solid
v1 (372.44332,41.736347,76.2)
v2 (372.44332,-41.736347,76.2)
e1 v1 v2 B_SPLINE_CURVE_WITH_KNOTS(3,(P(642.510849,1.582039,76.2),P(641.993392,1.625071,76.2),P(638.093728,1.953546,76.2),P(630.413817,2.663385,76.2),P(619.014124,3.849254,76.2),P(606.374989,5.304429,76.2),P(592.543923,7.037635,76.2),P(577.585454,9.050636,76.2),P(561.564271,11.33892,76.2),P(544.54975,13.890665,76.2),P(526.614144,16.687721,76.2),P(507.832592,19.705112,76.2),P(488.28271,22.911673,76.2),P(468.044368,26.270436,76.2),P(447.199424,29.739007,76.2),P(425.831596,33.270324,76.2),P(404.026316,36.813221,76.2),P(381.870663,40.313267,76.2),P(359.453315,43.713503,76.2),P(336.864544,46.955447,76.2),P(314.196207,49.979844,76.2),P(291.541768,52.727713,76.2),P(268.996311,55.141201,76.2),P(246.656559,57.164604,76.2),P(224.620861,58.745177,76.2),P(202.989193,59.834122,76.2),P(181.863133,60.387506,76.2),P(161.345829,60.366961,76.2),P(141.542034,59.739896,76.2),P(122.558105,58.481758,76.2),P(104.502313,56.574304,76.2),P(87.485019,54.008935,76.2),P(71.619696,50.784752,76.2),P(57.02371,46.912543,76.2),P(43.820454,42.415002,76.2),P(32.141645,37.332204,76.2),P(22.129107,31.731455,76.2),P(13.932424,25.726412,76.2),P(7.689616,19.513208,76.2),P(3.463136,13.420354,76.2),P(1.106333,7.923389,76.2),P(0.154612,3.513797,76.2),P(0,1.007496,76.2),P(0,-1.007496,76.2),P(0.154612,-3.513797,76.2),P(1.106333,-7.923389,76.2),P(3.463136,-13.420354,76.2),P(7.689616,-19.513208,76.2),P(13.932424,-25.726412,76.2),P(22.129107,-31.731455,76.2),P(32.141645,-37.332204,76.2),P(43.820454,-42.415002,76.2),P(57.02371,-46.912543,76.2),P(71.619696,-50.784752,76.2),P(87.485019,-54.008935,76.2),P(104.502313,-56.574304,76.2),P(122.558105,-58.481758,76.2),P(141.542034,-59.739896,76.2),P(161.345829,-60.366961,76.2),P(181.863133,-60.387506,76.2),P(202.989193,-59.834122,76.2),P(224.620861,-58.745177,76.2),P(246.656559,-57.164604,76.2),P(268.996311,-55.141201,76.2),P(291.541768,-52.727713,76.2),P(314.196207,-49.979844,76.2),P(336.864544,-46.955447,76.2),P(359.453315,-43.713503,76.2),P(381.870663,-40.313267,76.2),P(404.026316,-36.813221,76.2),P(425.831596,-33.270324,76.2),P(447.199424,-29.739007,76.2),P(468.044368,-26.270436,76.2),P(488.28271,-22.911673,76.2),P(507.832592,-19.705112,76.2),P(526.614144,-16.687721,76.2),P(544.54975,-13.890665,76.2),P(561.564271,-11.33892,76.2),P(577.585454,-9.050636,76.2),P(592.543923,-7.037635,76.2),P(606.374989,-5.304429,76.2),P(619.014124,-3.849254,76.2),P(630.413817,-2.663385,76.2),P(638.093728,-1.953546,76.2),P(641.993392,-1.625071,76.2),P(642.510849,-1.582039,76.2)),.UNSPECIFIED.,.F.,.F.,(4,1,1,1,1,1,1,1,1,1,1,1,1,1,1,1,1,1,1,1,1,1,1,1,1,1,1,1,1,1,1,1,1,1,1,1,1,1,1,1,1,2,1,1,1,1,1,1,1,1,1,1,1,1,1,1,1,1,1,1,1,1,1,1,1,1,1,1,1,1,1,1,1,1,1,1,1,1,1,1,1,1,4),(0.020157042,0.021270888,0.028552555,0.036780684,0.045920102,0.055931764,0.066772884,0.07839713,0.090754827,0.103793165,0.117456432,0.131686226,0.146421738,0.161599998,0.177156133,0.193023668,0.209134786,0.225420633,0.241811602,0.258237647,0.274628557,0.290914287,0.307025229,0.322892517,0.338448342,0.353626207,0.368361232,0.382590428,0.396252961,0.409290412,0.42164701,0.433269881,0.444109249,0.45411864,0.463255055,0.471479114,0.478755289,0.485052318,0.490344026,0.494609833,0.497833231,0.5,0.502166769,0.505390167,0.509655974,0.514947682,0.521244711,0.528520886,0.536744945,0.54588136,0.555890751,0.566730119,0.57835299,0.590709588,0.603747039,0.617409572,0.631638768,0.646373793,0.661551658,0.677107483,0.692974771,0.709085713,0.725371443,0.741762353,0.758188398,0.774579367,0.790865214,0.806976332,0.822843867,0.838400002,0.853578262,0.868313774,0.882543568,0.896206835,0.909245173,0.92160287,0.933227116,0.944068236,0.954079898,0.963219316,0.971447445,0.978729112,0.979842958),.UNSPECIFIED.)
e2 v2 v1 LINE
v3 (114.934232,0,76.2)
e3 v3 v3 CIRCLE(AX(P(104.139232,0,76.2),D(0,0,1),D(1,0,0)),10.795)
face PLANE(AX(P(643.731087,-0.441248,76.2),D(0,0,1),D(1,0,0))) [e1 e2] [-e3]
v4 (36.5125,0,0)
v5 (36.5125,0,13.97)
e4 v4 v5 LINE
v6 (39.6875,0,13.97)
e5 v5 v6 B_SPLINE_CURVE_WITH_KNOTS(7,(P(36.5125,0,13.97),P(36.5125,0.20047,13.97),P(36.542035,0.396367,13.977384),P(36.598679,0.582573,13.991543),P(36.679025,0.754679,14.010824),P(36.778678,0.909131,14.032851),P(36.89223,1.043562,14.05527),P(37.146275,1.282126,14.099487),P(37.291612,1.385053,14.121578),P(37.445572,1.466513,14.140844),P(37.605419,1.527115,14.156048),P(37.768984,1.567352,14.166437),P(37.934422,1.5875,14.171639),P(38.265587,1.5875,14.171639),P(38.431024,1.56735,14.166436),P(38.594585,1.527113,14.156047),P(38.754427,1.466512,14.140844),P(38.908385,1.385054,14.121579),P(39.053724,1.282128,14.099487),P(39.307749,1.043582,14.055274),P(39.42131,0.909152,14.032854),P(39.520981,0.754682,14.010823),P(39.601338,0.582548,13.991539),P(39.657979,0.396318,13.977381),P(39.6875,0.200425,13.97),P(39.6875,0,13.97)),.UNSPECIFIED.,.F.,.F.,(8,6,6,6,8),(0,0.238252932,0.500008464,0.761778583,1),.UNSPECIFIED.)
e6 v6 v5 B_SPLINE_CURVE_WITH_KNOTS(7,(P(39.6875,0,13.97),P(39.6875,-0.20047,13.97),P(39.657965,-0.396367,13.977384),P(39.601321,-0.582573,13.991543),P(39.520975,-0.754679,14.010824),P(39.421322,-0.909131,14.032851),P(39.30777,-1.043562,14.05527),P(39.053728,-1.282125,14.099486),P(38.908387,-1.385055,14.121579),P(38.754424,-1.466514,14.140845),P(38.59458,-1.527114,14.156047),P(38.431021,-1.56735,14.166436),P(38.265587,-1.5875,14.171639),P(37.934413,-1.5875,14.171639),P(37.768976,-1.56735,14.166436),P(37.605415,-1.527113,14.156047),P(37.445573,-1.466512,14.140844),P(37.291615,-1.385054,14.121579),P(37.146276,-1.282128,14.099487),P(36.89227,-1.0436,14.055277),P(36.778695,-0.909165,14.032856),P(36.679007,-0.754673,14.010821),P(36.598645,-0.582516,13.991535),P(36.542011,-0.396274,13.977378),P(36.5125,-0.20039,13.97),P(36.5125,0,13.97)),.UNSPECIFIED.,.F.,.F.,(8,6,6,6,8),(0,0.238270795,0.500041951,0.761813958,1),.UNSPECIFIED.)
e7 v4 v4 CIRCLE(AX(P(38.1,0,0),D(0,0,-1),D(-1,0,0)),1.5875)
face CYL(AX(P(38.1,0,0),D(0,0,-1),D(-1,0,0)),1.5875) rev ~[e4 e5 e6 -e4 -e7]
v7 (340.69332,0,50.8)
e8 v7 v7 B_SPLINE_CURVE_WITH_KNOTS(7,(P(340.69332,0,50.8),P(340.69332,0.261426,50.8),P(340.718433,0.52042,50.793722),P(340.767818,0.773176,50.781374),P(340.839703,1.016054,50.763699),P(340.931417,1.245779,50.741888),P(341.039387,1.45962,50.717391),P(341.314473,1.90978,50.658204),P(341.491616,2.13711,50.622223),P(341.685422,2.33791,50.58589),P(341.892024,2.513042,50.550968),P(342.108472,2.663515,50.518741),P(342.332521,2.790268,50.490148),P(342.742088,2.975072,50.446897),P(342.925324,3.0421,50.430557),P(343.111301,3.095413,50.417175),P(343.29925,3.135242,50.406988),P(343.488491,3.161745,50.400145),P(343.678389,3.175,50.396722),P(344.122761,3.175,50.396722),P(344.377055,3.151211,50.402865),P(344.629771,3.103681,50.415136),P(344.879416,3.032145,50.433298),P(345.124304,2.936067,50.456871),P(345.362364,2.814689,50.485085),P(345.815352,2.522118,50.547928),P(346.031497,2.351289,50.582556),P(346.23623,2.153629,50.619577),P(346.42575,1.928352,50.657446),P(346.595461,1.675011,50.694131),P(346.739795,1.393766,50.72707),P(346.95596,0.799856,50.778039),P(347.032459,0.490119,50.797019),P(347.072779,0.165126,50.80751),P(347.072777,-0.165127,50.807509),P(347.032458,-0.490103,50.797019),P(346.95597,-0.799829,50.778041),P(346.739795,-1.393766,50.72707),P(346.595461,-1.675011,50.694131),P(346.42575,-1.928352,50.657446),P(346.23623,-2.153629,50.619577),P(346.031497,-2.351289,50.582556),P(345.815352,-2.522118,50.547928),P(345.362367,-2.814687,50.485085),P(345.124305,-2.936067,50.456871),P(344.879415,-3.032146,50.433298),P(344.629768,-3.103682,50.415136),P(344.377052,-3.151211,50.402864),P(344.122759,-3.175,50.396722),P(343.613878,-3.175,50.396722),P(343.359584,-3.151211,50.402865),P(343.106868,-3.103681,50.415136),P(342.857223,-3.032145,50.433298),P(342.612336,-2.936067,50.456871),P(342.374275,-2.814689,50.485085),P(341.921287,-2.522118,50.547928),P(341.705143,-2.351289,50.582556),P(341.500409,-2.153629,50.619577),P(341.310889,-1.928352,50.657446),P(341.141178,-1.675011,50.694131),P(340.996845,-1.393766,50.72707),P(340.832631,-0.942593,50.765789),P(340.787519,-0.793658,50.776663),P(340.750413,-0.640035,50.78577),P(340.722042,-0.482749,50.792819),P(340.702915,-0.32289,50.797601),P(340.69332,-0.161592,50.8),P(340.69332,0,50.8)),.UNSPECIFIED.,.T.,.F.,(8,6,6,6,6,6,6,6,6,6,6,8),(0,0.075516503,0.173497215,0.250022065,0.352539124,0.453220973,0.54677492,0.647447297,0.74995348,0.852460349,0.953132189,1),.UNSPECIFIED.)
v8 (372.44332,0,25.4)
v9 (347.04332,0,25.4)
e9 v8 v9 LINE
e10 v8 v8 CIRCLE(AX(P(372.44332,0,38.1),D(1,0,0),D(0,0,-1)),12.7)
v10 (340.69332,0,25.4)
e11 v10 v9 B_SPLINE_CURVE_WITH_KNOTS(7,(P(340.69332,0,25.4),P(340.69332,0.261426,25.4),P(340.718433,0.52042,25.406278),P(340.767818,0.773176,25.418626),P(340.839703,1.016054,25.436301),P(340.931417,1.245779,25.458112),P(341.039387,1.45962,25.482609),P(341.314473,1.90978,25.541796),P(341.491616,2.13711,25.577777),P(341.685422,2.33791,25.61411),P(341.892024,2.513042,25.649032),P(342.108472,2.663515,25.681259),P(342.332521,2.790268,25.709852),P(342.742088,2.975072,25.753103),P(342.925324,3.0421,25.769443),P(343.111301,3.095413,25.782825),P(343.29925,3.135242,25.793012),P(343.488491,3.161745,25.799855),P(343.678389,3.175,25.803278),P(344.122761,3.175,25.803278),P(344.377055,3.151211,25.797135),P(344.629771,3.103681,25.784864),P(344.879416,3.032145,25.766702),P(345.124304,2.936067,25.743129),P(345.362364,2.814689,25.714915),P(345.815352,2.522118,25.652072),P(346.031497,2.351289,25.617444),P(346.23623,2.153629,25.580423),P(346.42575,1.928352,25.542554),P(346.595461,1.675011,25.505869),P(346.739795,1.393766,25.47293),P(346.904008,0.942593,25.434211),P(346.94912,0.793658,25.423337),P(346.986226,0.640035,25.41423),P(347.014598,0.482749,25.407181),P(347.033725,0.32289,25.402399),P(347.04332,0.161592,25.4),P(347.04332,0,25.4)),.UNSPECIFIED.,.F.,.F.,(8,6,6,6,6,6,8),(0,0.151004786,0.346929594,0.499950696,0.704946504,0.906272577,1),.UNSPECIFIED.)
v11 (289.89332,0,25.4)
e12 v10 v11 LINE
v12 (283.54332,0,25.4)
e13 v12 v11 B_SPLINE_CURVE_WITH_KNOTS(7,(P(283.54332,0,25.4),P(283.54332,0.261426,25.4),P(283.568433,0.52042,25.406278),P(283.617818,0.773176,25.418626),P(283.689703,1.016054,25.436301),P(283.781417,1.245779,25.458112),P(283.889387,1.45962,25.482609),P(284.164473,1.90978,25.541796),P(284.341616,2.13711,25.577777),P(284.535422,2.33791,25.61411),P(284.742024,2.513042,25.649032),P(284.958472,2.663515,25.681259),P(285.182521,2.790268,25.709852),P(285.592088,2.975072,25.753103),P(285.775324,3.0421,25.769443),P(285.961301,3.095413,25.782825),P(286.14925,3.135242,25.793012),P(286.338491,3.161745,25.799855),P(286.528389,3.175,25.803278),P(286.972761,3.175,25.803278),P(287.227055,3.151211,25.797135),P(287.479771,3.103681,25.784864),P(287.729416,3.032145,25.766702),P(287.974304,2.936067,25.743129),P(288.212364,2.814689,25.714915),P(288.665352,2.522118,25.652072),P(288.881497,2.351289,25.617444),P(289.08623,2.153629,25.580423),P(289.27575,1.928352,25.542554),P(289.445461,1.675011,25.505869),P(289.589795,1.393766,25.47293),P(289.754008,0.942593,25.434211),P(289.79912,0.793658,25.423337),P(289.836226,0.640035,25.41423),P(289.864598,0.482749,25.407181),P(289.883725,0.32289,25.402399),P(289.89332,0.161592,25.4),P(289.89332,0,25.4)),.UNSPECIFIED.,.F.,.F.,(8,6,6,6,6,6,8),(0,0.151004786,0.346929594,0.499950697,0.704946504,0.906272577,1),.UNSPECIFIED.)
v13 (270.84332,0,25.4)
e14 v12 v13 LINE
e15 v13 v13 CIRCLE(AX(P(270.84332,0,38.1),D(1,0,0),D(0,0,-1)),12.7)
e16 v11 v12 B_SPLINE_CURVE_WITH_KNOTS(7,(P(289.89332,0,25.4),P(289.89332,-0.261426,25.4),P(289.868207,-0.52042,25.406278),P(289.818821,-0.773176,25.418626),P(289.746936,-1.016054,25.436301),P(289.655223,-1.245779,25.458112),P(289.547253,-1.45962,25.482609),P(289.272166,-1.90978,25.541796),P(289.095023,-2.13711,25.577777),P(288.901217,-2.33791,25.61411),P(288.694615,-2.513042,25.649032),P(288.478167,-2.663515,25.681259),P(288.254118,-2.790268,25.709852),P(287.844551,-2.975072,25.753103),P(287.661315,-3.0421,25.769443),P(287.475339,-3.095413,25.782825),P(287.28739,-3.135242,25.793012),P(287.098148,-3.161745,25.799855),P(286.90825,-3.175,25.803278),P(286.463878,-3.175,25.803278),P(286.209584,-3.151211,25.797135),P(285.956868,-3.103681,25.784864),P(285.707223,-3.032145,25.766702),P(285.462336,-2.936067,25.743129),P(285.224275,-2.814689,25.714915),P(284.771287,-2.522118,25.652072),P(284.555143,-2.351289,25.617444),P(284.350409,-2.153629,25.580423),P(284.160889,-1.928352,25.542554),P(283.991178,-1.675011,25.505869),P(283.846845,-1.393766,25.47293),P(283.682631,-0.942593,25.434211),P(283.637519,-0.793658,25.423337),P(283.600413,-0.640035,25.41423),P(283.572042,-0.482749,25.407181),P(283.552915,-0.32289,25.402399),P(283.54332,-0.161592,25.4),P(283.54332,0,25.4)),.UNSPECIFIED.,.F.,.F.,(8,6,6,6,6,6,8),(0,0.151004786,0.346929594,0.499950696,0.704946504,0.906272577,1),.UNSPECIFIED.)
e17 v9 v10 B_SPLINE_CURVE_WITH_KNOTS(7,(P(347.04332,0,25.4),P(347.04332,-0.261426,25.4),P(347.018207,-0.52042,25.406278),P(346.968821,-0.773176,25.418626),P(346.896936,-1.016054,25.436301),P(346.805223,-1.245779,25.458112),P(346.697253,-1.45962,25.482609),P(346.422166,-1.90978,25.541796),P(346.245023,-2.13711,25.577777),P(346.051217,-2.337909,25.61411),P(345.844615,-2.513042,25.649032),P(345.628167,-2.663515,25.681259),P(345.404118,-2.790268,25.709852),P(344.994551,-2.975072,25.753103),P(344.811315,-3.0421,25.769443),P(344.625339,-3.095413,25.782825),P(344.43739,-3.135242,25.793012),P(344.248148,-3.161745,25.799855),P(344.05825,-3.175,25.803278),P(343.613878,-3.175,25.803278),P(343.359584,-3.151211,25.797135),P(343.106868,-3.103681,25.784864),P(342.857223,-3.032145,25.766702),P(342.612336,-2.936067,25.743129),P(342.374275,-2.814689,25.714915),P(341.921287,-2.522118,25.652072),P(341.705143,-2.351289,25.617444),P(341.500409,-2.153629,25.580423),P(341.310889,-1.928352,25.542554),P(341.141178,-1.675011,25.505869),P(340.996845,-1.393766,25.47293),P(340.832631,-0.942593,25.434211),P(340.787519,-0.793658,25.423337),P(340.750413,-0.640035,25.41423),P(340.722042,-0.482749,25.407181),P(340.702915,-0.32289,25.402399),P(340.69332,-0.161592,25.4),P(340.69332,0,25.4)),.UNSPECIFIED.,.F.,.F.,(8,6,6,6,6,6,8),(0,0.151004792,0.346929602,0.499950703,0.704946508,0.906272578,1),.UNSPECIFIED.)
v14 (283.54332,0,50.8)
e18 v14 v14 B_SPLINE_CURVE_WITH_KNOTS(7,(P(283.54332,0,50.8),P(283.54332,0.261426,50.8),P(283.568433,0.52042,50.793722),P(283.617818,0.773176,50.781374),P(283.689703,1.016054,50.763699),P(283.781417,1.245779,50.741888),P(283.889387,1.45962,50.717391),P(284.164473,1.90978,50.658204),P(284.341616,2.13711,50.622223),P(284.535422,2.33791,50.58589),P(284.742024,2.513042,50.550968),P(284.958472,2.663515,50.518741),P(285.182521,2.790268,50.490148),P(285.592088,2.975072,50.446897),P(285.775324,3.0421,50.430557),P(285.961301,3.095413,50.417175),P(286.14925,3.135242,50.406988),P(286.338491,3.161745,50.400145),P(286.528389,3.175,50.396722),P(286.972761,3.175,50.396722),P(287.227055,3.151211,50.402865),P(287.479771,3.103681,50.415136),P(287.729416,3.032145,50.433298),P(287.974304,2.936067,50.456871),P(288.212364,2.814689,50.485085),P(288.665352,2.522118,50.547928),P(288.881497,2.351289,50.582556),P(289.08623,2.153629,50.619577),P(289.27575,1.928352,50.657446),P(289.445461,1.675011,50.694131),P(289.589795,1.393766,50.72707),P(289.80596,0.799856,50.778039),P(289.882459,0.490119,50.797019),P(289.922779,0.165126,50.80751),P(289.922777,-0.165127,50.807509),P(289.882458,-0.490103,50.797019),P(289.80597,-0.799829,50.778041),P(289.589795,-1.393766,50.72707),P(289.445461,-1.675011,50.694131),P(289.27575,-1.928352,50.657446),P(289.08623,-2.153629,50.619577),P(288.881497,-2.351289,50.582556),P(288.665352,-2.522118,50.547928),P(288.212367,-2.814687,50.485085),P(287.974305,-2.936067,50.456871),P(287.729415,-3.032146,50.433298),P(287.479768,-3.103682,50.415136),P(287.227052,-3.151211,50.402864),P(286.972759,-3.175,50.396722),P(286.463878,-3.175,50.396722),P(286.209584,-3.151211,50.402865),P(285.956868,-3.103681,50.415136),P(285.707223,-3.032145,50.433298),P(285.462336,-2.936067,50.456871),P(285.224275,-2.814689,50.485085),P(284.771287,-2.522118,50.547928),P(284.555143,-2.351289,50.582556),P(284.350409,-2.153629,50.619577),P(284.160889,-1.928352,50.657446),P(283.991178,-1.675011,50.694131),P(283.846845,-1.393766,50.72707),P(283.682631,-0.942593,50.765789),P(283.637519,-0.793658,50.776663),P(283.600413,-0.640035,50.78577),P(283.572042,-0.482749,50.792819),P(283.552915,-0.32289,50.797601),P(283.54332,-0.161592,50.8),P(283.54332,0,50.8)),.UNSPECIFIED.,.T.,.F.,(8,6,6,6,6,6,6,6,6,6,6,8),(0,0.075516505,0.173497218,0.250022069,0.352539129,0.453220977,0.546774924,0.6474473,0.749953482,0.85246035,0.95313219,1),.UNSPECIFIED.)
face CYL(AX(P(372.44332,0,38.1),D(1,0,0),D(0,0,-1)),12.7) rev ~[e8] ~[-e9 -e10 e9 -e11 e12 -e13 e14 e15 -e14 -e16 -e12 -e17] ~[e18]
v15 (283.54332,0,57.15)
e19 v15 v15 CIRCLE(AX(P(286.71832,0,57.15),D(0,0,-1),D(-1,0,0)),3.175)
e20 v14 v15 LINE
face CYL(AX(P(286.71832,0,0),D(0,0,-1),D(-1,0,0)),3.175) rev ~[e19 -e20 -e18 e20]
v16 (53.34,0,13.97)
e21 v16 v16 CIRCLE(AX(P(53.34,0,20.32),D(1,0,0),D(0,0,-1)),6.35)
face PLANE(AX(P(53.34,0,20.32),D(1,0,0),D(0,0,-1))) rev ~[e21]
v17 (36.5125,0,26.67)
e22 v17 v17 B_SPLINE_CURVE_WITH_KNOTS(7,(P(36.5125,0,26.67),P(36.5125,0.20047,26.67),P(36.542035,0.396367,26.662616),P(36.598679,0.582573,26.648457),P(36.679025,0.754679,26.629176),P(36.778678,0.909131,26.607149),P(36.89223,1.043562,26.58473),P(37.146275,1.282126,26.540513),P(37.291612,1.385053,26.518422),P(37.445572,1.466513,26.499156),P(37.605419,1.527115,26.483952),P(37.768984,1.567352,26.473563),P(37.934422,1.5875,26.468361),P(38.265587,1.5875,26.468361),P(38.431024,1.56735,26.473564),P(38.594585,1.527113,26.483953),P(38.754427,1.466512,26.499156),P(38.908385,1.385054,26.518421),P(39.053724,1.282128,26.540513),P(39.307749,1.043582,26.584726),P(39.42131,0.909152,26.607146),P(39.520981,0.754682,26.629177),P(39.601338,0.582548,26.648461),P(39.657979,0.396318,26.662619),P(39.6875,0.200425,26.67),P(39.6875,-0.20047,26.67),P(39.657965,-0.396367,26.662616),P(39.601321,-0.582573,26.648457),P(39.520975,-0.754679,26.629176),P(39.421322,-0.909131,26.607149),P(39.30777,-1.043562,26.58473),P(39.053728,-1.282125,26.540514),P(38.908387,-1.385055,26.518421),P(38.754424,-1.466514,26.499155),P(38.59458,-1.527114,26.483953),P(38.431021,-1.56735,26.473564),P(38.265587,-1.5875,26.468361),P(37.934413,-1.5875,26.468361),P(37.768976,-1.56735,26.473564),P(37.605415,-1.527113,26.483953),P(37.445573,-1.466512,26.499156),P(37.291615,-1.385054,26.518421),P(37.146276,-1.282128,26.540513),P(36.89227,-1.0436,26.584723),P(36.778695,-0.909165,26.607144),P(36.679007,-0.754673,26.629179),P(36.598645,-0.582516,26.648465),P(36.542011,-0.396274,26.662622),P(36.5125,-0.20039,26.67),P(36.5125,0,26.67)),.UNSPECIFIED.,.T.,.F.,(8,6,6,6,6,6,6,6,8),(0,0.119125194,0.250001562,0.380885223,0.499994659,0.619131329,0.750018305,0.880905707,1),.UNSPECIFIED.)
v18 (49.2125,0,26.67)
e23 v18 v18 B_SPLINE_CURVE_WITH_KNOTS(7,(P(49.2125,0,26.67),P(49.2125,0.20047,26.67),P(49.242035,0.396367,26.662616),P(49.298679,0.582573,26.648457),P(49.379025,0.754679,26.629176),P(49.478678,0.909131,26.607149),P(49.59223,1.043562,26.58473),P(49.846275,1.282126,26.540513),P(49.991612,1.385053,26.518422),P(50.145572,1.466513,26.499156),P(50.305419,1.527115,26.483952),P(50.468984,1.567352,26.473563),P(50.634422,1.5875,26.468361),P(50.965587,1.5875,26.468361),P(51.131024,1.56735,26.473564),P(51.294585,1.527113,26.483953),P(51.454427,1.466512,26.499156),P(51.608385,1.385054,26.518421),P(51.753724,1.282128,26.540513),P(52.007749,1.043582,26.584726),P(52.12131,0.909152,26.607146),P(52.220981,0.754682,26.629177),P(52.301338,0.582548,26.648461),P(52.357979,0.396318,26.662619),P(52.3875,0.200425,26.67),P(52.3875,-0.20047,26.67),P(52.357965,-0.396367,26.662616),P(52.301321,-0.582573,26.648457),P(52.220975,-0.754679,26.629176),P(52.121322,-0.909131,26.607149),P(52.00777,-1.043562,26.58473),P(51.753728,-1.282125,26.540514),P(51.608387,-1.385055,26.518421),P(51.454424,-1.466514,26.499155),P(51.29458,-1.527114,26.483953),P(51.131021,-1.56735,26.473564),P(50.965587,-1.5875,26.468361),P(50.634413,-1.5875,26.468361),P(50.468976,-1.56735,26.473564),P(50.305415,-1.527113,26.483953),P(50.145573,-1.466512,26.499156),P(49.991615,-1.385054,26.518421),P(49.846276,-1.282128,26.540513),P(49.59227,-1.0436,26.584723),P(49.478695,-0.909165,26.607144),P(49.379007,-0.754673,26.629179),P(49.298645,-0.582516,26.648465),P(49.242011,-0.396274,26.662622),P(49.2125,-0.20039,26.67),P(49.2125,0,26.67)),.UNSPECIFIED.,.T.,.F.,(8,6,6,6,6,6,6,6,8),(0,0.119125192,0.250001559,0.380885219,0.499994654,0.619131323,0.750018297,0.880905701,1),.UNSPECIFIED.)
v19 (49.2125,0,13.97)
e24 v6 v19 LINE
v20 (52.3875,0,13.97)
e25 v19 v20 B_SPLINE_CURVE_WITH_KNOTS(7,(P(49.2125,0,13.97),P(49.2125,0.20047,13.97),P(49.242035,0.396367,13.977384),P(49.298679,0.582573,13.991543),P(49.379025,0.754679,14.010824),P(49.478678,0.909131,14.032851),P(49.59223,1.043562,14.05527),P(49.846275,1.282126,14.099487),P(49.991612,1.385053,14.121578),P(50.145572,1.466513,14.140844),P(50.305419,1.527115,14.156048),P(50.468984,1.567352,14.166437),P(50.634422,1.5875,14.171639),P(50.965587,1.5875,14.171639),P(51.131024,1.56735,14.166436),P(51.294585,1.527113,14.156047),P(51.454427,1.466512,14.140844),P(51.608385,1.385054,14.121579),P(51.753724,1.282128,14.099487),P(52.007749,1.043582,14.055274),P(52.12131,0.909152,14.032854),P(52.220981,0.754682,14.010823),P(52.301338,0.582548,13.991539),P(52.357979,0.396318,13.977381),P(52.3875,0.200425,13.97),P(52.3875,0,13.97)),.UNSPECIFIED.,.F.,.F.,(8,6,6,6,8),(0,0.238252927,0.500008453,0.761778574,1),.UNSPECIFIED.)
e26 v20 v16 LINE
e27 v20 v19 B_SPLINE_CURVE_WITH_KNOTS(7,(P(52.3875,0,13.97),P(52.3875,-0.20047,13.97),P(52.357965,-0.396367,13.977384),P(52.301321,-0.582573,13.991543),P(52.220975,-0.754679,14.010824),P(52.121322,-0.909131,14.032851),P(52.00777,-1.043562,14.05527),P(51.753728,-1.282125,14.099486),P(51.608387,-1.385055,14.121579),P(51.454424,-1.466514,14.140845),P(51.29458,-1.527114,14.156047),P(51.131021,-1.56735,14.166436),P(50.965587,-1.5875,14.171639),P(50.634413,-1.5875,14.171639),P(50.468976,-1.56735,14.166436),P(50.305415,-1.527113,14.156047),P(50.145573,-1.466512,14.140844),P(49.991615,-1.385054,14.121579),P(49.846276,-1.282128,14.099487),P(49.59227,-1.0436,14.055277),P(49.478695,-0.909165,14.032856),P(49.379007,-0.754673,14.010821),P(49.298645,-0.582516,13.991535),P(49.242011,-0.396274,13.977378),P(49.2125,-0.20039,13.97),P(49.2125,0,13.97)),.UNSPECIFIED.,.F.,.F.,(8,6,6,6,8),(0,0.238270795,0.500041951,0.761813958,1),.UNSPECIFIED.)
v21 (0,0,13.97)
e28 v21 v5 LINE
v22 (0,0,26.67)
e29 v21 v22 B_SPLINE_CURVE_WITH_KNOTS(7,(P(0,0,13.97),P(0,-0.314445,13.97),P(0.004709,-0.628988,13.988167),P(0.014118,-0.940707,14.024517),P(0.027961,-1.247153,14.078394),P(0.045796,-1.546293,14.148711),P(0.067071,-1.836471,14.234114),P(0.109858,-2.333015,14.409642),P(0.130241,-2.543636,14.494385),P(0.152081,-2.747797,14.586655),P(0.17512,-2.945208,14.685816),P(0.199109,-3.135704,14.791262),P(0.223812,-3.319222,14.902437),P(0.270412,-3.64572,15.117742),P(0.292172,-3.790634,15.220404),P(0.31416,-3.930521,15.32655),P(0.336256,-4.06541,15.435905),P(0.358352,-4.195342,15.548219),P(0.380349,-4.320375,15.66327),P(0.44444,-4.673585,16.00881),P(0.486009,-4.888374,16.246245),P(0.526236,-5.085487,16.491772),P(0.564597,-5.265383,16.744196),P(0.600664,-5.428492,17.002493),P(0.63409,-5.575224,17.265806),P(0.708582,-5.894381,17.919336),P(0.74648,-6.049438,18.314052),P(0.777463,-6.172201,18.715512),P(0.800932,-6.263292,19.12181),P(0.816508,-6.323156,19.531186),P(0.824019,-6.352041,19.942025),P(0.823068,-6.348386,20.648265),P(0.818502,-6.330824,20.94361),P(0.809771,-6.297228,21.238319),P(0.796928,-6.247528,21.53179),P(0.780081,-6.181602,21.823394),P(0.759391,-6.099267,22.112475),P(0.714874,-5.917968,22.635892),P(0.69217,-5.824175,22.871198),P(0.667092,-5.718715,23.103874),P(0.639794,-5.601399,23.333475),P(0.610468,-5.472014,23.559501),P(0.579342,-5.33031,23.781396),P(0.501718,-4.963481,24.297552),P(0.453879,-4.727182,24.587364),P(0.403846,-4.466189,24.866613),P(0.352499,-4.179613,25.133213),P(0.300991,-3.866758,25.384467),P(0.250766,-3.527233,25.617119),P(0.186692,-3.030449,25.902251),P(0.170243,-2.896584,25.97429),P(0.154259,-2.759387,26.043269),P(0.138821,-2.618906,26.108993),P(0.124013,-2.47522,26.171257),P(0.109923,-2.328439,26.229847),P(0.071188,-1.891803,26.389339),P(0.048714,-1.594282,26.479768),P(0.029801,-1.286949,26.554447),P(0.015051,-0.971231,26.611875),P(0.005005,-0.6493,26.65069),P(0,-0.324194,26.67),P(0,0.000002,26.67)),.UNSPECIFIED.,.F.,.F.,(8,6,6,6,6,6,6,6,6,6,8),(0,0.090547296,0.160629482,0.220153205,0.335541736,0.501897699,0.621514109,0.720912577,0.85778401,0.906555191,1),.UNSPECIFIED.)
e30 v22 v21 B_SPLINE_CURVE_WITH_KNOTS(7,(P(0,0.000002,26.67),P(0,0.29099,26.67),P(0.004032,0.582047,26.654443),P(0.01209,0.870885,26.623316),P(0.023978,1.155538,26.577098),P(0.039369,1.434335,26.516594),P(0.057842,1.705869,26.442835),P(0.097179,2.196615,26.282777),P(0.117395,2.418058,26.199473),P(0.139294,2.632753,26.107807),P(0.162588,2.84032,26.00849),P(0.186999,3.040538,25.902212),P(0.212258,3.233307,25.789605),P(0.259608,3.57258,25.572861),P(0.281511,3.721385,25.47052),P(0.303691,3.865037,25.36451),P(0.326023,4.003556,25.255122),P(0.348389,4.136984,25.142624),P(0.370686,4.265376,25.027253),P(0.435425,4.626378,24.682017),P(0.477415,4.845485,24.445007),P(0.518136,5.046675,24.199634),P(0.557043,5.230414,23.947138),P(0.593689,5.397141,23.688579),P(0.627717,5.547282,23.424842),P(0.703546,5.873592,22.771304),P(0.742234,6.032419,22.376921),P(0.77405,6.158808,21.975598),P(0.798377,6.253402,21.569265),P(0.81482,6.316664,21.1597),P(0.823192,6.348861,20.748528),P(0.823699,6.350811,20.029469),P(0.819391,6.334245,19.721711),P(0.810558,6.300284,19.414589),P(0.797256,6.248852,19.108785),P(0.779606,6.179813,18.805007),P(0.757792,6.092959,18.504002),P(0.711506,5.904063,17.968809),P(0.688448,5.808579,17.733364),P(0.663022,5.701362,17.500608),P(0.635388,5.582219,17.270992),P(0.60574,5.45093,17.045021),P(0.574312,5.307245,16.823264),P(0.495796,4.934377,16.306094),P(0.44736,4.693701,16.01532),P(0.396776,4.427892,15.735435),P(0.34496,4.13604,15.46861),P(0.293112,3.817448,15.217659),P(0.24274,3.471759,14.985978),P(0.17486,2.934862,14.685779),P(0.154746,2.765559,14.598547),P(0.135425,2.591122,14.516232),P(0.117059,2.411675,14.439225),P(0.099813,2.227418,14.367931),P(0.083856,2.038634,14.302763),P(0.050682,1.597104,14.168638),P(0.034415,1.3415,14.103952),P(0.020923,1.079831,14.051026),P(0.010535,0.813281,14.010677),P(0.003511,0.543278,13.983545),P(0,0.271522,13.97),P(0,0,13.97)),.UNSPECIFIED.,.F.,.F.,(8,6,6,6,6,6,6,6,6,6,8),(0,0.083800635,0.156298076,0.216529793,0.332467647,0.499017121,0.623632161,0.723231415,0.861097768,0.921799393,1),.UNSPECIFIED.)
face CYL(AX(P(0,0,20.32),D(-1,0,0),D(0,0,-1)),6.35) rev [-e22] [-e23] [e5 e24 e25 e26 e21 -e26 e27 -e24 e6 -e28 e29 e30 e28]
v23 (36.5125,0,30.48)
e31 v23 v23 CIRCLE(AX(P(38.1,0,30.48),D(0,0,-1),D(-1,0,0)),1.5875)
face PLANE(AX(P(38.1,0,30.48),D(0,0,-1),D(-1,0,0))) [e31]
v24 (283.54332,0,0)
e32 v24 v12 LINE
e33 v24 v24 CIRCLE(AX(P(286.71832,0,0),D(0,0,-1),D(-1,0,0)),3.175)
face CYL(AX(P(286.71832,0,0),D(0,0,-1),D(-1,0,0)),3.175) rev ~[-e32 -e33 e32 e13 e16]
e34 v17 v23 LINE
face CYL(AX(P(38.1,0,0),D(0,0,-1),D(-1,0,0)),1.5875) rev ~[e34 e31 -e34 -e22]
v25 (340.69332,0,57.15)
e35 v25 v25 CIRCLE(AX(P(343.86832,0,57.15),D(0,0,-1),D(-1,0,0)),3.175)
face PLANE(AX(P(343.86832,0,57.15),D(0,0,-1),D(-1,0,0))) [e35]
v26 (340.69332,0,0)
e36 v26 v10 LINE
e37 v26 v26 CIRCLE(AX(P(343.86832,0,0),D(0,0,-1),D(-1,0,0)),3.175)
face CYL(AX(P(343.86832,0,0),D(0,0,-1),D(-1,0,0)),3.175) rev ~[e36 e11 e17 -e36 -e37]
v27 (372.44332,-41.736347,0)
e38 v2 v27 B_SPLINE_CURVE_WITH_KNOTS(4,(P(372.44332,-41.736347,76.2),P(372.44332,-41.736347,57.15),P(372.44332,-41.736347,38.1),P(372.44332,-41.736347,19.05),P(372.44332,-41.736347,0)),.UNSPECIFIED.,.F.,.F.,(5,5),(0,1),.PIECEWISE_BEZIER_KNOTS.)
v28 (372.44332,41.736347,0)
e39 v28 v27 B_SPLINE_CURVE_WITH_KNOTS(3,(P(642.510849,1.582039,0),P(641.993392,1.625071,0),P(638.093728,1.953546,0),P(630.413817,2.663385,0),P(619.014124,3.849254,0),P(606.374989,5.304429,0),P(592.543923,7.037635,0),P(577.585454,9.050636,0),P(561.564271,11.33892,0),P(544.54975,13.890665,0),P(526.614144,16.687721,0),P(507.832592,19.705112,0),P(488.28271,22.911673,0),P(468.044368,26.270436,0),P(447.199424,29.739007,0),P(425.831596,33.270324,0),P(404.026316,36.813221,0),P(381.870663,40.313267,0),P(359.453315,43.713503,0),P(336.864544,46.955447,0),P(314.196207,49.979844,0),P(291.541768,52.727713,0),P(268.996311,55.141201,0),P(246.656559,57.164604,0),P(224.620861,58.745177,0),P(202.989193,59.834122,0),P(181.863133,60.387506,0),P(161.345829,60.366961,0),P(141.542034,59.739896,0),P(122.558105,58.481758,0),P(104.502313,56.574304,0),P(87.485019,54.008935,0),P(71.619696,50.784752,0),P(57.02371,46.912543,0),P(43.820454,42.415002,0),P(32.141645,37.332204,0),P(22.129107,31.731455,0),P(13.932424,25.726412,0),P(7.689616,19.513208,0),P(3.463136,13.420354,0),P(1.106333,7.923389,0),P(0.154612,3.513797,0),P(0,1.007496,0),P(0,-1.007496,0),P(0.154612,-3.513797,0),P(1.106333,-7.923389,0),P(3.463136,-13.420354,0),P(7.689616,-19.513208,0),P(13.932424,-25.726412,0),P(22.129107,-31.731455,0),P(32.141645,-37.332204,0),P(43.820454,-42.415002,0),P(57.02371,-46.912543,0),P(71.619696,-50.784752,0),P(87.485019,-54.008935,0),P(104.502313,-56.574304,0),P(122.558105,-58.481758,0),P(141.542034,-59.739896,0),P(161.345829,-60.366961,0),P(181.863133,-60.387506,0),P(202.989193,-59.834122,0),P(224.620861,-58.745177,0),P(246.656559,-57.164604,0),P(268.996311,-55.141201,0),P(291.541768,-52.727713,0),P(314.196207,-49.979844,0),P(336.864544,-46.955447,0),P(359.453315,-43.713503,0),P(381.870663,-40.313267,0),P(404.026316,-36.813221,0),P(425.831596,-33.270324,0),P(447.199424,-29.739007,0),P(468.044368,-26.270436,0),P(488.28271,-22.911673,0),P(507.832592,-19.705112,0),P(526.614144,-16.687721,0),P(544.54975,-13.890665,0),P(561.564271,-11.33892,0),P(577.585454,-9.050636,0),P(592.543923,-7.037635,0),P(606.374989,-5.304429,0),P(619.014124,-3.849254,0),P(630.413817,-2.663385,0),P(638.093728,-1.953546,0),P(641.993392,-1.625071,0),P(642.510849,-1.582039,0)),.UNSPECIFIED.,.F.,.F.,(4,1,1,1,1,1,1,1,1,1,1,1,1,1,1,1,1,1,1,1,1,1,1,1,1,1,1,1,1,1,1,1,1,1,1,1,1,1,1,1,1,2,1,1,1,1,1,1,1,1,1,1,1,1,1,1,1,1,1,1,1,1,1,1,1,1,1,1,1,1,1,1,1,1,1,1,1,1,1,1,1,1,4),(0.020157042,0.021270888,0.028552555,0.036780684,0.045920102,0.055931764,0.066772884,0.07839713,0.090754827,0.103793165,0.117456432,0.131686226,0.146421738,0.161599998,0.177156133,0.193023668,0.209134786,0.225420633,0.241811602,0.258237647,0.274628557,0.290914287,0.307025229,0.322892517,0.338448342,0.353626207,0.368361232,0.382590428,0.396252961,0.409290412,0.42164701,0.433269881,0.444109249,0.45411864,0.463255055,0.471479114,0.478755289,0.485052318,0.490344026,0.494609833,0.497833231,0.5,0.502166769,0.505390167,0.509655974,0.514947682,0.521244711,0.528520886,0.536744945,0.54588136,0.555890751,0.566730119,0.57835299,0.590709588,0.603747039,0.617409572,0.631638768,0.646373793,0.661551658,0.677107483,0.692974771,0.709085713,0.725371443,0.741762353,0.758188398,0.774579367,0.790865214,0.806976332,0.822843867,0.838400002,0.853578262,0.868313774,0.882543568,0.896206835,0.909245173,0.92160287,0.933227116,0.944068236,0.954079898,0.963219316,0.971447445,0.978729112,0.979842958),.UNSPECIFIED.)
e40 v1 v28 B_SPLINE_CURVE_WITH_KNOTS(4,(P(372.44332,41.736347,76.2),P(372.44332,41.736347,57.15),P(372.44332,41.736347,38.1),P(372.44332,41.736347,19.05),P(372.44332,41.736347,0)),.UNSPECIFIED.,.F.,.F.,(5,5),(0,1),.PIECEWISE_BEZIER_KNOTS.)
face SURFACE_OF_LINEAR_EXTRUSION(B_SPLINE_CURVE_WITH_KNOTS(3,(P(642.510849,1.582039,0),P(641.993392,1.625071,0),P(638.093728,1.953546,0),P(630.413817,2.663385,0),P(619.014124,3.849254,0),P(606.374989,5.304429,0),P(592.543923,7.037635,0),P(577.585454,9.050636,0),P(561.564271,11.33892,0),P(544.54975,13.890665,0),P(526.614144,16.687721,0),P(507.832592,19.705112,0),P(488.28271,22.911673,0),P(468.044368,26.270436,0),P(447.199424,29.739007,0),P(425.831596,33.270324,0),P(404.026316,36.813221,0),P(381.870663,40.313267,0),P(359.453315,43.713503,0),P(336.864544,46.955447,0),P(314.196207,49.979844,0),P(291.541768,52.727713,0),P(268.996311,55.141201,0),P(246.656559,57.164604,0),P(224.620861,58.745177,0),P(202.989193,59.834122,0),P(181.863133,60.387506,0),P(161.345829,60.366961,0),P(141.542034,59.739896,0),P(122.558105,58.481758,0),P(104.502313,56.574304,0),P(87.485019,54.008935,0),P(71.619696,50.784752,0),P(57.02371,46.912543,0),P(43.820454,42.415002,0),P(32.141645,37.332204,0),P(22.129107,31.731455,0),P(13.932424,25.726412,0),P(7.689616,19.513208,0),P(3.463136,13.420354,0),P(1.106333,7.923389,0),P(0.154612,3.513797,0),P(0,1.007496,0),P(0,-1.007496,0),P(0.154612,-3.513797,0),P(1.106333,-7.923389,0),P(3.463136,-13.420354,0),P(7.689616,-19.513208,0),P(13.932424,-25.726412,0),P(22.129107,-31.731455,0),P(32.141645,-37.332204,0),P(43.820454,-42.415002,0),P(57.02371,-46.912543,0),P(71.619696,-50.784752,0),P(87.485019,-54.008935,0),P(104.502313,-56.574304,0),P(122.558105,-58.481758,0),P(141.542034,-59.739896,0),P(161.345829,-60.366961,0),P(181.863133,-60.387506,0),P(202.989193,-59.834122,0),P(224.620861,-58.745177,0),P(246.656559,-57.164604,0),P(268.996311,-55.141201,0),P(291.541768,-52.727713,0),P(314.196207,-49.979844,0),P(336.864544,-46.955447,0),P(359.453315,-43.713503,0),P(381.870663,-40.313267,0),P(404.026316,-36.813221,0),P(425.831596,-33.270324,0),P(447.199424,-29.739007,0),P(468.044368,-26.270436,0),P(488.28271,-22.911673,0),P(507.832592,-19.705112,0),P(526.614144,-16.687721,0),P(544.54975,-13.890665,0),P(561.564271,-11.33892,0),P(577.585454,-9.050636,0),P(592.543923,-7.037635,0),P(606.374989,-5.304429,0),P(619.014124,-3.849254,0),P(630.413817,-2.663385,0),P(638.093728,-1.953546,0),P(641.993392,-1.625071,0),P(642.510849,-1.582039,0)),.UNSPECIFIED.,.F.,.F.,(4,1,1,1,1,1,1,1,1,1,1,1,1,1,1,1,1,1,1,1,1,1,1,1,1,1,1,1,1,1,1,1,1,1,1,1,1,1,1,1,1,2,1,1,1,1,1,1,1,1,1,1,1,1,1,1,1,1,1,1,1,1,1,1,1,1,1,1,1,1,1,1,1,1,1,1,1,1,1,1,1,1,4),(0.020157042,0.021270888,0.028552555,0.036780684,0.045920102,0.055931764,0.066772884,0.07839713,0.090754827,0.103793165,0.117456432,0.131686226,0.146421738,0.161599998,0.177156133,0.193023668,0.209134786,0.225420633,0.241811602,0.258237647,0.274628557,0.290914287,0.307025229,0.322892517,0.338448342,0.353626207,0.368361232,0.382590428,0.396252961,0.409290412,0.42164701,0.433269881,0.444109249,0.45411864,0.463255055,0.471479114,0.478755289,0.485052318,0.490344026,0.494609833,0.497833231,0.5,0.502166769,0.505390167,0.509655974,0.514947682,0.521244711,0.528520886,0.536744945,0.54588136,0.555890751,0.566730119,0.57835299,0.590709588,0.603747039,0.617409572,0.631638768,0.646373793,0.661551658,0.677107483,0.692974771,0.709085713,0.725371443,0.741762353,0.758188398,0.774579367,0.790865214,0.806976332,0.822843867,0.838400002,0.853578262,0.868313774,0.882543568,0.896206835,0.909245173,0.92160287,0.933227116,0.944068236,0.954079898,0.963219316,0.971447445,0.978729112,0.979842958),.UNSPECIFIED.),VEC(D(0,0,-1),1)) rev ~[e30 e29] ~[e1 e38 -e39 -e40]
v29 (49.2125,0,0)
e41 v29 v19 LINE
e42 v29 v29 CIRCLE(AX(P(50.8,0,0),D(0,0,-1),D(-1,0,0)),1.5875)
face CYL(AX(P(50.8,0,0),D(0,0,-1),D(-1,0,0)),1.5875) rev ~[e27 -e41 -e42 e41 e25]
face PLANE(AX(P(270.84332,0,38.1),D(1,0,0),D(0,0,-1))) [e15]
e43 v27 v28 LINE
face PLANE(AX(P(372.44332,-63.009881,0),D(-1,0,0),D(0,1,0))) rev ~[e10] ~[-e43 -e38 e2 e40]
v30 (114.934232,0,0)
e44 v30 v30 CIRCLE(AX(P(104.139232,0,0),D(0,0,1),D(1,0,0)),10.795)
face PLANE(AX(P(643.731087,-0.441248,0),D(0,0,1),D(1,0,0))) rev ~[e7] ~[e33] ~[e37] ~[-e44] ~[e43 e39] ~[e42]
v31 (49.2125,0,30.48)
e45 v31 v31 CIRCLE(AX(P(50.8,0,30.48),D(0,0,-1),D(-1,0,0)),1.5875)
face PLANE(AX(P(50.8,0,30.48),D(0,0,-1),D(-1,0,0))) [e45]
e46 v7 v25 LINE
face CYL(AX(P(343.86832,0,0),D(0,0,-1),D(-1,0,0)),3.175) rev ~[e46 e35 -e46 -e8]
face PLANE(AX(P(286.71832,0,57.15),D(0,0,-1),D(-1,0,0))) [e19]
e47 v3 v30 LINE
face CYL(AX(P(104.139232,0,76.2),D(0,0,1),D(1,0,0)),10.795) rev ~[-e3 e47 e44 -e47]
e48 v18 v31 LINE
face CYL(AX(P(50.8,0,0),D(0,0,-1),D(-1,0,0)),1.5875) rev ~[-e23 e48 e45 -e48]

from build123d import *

# Parameters (mm, degrees)
BOSS_EXTRUDE1_DEPTH     = 76.2
SKETCH3_R               = 10.795
CUT_EXTRUDE2_DEPTH      = 76.2
SKETCH6_R               = 6.35
CUT_EXTRUDE3_DEPTH      = 53.34
CUT_EXTRUDE3_DEPTH_BACK = 0.000254
SKETCH7_R               = 1.5875
CUT_EXTRUDE4_DEPTH      = 30.48
SKETCH8_W               = 304.8
SKETCH8_H               = 127
CUT_EXTRUDE5_DEPTH      = 76.2
SKETCH9_R               = 12.7
CUT_EXTRUDE6_DEPTH      = 101.6
SKETCH10_R              = 3.175
CUT_EXTRUDE7_DEPTH      = 57.15


with BuildPart() as part:
    # Sketch1 → Boss-Extrude1 (new body)
    with BuildSketch(Plane.XY):
        with BuildLine():
            Line((643.966787522, 0), (643.599082689, 0))
            Line((643.599082689, 0), (643.599082689, -1.016))
            ThreePointArc((643.599082689, -1.016), (643.872033494, -0.540245973), (643.966787522, 0))
        make_face()
        with BuildLine():
            Line((643.599082689, -1.016), (643.599082689, 0))
            Line((643.599082689, 0), (641.567082689, 0))
            ThreePointArc((641.567082689, 0), (642.269121423, -1.135922533), (643.599082689, -1.016))
        make_face()
        with BuildLine():
            Line((641.567082689, 0), (643.599082689, 0))
            Line((643.599082689, 0), (643.966787522, 0))
            ThreePointArc((643.966787522, 0), (643.547407924, 1.075012082), (642.510849283, 1.582039112))
            add(Edge.make_bspline(
                [(642.510849283, 1.582039112), (641.993392355, 1.625070631), (638.093728429, 1.953546407), (630.413817462, 2.663385493), (619.014124193, 3.849253664), (606.374988512, 5.304428983), (592.543922516, 7.037634907), (577.585454095, 9.050636147), (561.564270734, 11.338919625), (544.549749946, 13.890665375), (526.614143658, 16.687720753), (507.832591566, 19.705111663), (488.282710288, 22.911672601), (468.044367735, 26.27043606), (447.199424328, 29.739007432), (425.831595832, 33.270324121), (404.02631566, 36.813220545), (381.870662856, 40.313266856), (359.453314895, 43.713502532), (336.86454415, 46.955447457), (314.196207315, 49.979843895), (291.541767704, 52.727712704), (268.996310773, 55.141201012), (246.65655865, 57.164603829), (224.620860897, 58.745176641), (202.989192599, 59.8341217), (181.863132616, 60.387506142), (161.345829027, 60.366961324), (141.542033828, 59.739895824), (122.558104573, 58.481758104), (104.502313427, 56.574303932), (87.485018636, 54.008935199), (71.619696083, 50.784752003), (57.023709725, 46.912543066), (43.82045433, 42.41500246), (32.141645239, 37.332204029), (22.129107375, 31.731455339), (13.932423524, 25.726412106), (7.689616489, 19.513207632), (3.463136343, 13.420354421), (1.106333228, 7.923389435), (0.154611582, 3.513796615), (0, 1.007496172), (0, 0)],
                knots=[0.020157042, 0.020157042, 0.020157042, 0.020157042, 0.021270888, 0.028552555, 0.036780684, 0.045920102, 0.055931764, 0.066772884, 0.07839713, 0.090754827, 0.103793165, 0.117456432, 0.131686226, 0.146421738, 0.161599998, 0.177156133, 0.193023668, 0.209134786, 0.225420633, 0.241811602, 0.258237647, 0.274628557, 0.290914287, 0.307025229, 0.322892517, 0.338448342, 0.353626207, 0.368361232, 0.382590428, 0.396252961, 0.409290412, 0.42164701, 0.433269881, 0.444109249, 0.45411864, 0.463255055, 0.471479114, 0.478755289, 0.485052318, 0.490344026, 0.494609833, 0.497833231, 0.5, 0.5, 0.5, 0.5], degree=3))
            Line((0, 0), (27.94, 0))
            ThreePointArc((27.94, 0), (40.64, 12.7), (53.34, 0))
            Line((53.34, 0), (93.345, 0))
            ThreePointArc((93.345, 0), (104.14, 10.795), (114.935, 0))
            Line((114.935, 0), (460.660965279, 0))
            Line((460.660965279, 0), (473.360965279, 0))
            Line((473.360965279, 0), (641.567082689, 0))
        make_face()
        with BuildLine():
            ThreePointArc((642.510849283, -1.582039112), (643.111845681, -1.408373102), (643.599082689, -1.016))
            ThreePointArc((643.599082689, -1.016), (642.269121423, -1.135922533), (641.567082689, 0))
            Line((641.567082689, 0), (473.360965279, 0))
            Line((473.360965279, 0), (460.660965279, 0))
            Line((460.660965279, 0), (114.935, 0))
            ThreePointArc((114.935, 0), (104.14, -10.795), (93.345, 0))
            Line((93.345, 0), (53.34, 0))
            ThreePointArc((53.34, 0), (40.64, -12.7), (27.94, 0))
            Line((27.94, 0), (0, 0))
            add(Edge.make_bspline(
                [(0, 0), (0, -1.007496172), (0.154611582, -3.513796615), (1.106333228, -7.923389435), (3.463136343, -13.420354421), (7.689616489, -19.513207632), (13.932423524, -25.726412106), (22.129107375, -31.731455339), (32.141645239, -37.332204029), (43.82045433, -42.41500246), (57.023709725, -46.912543066), (71.619696083, -50.784752003), (87.485018636, -54.008935199), (104.502313427, -56.574303932), (122.558104573, -58.481758104), (141.542033828, -59.739895824), (161.345829027, -60.366961324), (181.863132616, -60.387506142), (202.989192599, -59.8341217), (224.620860897, -58.745176641), (246.65655865, -57.164603829), (268.996310773, -55.141201012), (291.541767704, -52.727712704), (314.196207315, -49.979843895), (336.86454415, -46.955447457), (359.453314895, -43.713502532), (381.870662856, -40.313266856), (404.02631566, -36.813220545), (425.831595832, -33.270324121), (447.199424328, -29.739007432), (468.044367735, -26.27043606), (488.282710288, -22.911672601), (507.832591566, -19.705111663), (526.614143658, -16.687720753), (544.549749946, -13.890665375), (561.564270734, -11.338919625), (577.585454095, -9.050636147), (592.543922516, -7.037634907), (606.374988512, -5.304428983), (619.014124193, -3.849253664), (630.413817462, -2.663385493), (638.093728429, -1.953546407), (641.993392355, -1.625070631), (642.510849283, -1.582039112)],
                knots=[0.5, 0.5, 0.5, 0.5, 0.502166769, 0.505390167, 0.509655974, 0.514947682, 0.521244711, 0.528520886, 0.536744945, 0.54588136, 0.555890751, 0.566730119, 0.57835299, 0.590709588, 0.603747039, 0.617409572, 0.631638768, 0.646373793, 0.661551658, 0.677107483, 0.692974771, 0.709085713, 0.725371443, 0.741762353, 0.758188398, 0.774579367, 0.790865214, 0.806976332, 0.822843867, 0.838400002, 0.853578262, 0.868313774, 0.882543568, 0.896206835, 0.909245173, 0.92160287, 0.933227116, 0.944068236, 0.954079898, 0.963219316, 0.971447445, 0.978729112, 0.979842958, 0.979842958, 0.979842958, 0.979842958], degree=3))
        make_face()
        with BuildLine():
            ThreePointArc((643.966787522, 0), (643.872033494, -0.540245973), (643.599082689, -1.016))
            ThreePointArc((643.599082689, -1.016), (643.111845681, -1.408373102), (642.510849283, -1.582039112))
            add(Edge.make_bspline(
                [(642.510849283, -1.582039112), (644.922074617, -1.381522545), (649.798936594, -1.000308437), (656.504964311, -0.543558383), (662.850933168, -0.234427605), (666.344759683, -0.054696708), (670.56, -0.015678595), (670.56, 0)],
                knots=[0.979842958, 0.979842958, 0.979842958, 0.979842958, 0.985033212, 0.990332793, 0.994605218, 0.997832222, 1, 1, 1, 1], degree=3))
            add(Edge.make_bspline(
                [(670.56, 0), (670.56, 0.015678595), (666.344759683, 0.054696708), (662.850933168, 0.234427605), (656.504964311, 0.543558383), (649.798936594, 1.000308437), (644.922074617, 1.381522545), (642.510849283, 1.582039112)],
                knots=[0, 0, 0, 0, 0.002167778, 0.005394782, 0.009667207, 0.014966788, 0.020157042, 0.020157042, 0.020157042, 0.020157042], degree=3))
            ThreePointArc((642.510849283, 1.582039112), (643.547407924, 1.075012082), (643.966787522, 0))
        make_face()
        with BuildLine():
            ThreePointArc((53.34, 0), (40.64, 12.7), (27.94, 0))
            Line((27.94, 0), (53.34, 0))
        make_face()
        with BuildLine():
            Line((53.34, 0), (27.94, 0))
            ThreePointArc((27.94, 0), (40.64, -12.7), (53.34, 0))
        make_face()
        with BuildLine():
            ThreePointArc((93.345, 0), (104.14, -10.795), (114.935, 0))
            Line((114.935, 0), (93.345, 0))
        make_face()
        with BuildLine():
            Line((93.345, 0), (114.935, 0))
            ThreePointArc((114.935, 0), (104.14, 10.795), (93.345, 0))
        make_face()
    extrude(amount=BOSS_EXTRUDE1_DEPTH)

    # Sketch3 → Cut-Extrude2 (cut)
    with BuildSketch(Plane.XY.offset(76.2)):
        with Locations((104.139232412, 0)):
            Circle(SKETCH3_R)
    extrude(amount=-CUT_EXTRUDE2_DEPTH, mode=Mode.SUBTRACT)

    # Sketch6 → Cut-Extrude3 (cut, two sides)
    with BuildSketch(Plane(origin=(0, 0, 0), x_dir=(0, 0, -1), z_dir=(1, 0, 0))) as cut_extrude3_sk:
        with Locations((-20.32, 0)):
            Circle(SKETCH6_R)
    extrude(amount=CUT_EXTRUDE3_DEPTH, mode=Mode.SUBTRACT)
    extrude(cut_extrude3_sk.sketch, amount=-CUT_EXTRUDE3_DEPTH_BACK, mode=Mode.SUBTRACT)

    # Sketch7 → Cut-Extrude4 (cut)
    with BuildSketch(Plane(origin=(0, 0, 0), x_dir=(-1, 0, 0), z_dir=(0, 0, -1))):
        with Locations((-38.1, 0)):
            Circle(SKETCH7_R)
        with Locations((-50.8, 0)):
            Circle(SKETCH7_R)
    extrude(amount=-CUT_EXTRUDE4_DEPTH, mode=Mode.SUBTRACT)

    # Sketch8 → Cut-Extrude5 (cut)
    with BuildSketch(Plane(origin=(0, 0, 0), x_dir=(-1, 0, 0), z_dir=(0, 0, -1))):
        with Locations((-524.843319628, 0.490119432)):
            Rectangle(SKETCH8_W, SKETCH8_H)
    extrude(amount=-CUT_EXTRUDE5_DEPTH, mode=Mode.SUBTRACT)

    # Sketch9 → Cut-Extrude6 (cut)
    with BuildSketch(Plane(origin=(372.443319628, 0, 0), x_dir=(0, 0, -1), z_dir=(1, 0, 0))):
        with Locations((-38.1, 0)):
            Circle(SKETCH9_R)
    extrude(amount=-CUT_EXTRUDE6_DEPTH, mode=Mode.SUBTRACT)

    # Sketch10 → Cut-Extrude7 (cut)
    with BuildSketch(Plane(origin=(0, 0, 0), x_dir=(-1, 0, 0), z_dir=(0, 0, -1))):
        with Locations((-343.868319647, 0)):
            Circle(SKETCH10_R)
        with Locations((-286.718319647, 0)):
            Circle(SKETCH10_R)
    extrude(amount=-CUT_EXTRUDE7_DEPTH, mode=Mode.SUBTRACT)


solid = part.part
